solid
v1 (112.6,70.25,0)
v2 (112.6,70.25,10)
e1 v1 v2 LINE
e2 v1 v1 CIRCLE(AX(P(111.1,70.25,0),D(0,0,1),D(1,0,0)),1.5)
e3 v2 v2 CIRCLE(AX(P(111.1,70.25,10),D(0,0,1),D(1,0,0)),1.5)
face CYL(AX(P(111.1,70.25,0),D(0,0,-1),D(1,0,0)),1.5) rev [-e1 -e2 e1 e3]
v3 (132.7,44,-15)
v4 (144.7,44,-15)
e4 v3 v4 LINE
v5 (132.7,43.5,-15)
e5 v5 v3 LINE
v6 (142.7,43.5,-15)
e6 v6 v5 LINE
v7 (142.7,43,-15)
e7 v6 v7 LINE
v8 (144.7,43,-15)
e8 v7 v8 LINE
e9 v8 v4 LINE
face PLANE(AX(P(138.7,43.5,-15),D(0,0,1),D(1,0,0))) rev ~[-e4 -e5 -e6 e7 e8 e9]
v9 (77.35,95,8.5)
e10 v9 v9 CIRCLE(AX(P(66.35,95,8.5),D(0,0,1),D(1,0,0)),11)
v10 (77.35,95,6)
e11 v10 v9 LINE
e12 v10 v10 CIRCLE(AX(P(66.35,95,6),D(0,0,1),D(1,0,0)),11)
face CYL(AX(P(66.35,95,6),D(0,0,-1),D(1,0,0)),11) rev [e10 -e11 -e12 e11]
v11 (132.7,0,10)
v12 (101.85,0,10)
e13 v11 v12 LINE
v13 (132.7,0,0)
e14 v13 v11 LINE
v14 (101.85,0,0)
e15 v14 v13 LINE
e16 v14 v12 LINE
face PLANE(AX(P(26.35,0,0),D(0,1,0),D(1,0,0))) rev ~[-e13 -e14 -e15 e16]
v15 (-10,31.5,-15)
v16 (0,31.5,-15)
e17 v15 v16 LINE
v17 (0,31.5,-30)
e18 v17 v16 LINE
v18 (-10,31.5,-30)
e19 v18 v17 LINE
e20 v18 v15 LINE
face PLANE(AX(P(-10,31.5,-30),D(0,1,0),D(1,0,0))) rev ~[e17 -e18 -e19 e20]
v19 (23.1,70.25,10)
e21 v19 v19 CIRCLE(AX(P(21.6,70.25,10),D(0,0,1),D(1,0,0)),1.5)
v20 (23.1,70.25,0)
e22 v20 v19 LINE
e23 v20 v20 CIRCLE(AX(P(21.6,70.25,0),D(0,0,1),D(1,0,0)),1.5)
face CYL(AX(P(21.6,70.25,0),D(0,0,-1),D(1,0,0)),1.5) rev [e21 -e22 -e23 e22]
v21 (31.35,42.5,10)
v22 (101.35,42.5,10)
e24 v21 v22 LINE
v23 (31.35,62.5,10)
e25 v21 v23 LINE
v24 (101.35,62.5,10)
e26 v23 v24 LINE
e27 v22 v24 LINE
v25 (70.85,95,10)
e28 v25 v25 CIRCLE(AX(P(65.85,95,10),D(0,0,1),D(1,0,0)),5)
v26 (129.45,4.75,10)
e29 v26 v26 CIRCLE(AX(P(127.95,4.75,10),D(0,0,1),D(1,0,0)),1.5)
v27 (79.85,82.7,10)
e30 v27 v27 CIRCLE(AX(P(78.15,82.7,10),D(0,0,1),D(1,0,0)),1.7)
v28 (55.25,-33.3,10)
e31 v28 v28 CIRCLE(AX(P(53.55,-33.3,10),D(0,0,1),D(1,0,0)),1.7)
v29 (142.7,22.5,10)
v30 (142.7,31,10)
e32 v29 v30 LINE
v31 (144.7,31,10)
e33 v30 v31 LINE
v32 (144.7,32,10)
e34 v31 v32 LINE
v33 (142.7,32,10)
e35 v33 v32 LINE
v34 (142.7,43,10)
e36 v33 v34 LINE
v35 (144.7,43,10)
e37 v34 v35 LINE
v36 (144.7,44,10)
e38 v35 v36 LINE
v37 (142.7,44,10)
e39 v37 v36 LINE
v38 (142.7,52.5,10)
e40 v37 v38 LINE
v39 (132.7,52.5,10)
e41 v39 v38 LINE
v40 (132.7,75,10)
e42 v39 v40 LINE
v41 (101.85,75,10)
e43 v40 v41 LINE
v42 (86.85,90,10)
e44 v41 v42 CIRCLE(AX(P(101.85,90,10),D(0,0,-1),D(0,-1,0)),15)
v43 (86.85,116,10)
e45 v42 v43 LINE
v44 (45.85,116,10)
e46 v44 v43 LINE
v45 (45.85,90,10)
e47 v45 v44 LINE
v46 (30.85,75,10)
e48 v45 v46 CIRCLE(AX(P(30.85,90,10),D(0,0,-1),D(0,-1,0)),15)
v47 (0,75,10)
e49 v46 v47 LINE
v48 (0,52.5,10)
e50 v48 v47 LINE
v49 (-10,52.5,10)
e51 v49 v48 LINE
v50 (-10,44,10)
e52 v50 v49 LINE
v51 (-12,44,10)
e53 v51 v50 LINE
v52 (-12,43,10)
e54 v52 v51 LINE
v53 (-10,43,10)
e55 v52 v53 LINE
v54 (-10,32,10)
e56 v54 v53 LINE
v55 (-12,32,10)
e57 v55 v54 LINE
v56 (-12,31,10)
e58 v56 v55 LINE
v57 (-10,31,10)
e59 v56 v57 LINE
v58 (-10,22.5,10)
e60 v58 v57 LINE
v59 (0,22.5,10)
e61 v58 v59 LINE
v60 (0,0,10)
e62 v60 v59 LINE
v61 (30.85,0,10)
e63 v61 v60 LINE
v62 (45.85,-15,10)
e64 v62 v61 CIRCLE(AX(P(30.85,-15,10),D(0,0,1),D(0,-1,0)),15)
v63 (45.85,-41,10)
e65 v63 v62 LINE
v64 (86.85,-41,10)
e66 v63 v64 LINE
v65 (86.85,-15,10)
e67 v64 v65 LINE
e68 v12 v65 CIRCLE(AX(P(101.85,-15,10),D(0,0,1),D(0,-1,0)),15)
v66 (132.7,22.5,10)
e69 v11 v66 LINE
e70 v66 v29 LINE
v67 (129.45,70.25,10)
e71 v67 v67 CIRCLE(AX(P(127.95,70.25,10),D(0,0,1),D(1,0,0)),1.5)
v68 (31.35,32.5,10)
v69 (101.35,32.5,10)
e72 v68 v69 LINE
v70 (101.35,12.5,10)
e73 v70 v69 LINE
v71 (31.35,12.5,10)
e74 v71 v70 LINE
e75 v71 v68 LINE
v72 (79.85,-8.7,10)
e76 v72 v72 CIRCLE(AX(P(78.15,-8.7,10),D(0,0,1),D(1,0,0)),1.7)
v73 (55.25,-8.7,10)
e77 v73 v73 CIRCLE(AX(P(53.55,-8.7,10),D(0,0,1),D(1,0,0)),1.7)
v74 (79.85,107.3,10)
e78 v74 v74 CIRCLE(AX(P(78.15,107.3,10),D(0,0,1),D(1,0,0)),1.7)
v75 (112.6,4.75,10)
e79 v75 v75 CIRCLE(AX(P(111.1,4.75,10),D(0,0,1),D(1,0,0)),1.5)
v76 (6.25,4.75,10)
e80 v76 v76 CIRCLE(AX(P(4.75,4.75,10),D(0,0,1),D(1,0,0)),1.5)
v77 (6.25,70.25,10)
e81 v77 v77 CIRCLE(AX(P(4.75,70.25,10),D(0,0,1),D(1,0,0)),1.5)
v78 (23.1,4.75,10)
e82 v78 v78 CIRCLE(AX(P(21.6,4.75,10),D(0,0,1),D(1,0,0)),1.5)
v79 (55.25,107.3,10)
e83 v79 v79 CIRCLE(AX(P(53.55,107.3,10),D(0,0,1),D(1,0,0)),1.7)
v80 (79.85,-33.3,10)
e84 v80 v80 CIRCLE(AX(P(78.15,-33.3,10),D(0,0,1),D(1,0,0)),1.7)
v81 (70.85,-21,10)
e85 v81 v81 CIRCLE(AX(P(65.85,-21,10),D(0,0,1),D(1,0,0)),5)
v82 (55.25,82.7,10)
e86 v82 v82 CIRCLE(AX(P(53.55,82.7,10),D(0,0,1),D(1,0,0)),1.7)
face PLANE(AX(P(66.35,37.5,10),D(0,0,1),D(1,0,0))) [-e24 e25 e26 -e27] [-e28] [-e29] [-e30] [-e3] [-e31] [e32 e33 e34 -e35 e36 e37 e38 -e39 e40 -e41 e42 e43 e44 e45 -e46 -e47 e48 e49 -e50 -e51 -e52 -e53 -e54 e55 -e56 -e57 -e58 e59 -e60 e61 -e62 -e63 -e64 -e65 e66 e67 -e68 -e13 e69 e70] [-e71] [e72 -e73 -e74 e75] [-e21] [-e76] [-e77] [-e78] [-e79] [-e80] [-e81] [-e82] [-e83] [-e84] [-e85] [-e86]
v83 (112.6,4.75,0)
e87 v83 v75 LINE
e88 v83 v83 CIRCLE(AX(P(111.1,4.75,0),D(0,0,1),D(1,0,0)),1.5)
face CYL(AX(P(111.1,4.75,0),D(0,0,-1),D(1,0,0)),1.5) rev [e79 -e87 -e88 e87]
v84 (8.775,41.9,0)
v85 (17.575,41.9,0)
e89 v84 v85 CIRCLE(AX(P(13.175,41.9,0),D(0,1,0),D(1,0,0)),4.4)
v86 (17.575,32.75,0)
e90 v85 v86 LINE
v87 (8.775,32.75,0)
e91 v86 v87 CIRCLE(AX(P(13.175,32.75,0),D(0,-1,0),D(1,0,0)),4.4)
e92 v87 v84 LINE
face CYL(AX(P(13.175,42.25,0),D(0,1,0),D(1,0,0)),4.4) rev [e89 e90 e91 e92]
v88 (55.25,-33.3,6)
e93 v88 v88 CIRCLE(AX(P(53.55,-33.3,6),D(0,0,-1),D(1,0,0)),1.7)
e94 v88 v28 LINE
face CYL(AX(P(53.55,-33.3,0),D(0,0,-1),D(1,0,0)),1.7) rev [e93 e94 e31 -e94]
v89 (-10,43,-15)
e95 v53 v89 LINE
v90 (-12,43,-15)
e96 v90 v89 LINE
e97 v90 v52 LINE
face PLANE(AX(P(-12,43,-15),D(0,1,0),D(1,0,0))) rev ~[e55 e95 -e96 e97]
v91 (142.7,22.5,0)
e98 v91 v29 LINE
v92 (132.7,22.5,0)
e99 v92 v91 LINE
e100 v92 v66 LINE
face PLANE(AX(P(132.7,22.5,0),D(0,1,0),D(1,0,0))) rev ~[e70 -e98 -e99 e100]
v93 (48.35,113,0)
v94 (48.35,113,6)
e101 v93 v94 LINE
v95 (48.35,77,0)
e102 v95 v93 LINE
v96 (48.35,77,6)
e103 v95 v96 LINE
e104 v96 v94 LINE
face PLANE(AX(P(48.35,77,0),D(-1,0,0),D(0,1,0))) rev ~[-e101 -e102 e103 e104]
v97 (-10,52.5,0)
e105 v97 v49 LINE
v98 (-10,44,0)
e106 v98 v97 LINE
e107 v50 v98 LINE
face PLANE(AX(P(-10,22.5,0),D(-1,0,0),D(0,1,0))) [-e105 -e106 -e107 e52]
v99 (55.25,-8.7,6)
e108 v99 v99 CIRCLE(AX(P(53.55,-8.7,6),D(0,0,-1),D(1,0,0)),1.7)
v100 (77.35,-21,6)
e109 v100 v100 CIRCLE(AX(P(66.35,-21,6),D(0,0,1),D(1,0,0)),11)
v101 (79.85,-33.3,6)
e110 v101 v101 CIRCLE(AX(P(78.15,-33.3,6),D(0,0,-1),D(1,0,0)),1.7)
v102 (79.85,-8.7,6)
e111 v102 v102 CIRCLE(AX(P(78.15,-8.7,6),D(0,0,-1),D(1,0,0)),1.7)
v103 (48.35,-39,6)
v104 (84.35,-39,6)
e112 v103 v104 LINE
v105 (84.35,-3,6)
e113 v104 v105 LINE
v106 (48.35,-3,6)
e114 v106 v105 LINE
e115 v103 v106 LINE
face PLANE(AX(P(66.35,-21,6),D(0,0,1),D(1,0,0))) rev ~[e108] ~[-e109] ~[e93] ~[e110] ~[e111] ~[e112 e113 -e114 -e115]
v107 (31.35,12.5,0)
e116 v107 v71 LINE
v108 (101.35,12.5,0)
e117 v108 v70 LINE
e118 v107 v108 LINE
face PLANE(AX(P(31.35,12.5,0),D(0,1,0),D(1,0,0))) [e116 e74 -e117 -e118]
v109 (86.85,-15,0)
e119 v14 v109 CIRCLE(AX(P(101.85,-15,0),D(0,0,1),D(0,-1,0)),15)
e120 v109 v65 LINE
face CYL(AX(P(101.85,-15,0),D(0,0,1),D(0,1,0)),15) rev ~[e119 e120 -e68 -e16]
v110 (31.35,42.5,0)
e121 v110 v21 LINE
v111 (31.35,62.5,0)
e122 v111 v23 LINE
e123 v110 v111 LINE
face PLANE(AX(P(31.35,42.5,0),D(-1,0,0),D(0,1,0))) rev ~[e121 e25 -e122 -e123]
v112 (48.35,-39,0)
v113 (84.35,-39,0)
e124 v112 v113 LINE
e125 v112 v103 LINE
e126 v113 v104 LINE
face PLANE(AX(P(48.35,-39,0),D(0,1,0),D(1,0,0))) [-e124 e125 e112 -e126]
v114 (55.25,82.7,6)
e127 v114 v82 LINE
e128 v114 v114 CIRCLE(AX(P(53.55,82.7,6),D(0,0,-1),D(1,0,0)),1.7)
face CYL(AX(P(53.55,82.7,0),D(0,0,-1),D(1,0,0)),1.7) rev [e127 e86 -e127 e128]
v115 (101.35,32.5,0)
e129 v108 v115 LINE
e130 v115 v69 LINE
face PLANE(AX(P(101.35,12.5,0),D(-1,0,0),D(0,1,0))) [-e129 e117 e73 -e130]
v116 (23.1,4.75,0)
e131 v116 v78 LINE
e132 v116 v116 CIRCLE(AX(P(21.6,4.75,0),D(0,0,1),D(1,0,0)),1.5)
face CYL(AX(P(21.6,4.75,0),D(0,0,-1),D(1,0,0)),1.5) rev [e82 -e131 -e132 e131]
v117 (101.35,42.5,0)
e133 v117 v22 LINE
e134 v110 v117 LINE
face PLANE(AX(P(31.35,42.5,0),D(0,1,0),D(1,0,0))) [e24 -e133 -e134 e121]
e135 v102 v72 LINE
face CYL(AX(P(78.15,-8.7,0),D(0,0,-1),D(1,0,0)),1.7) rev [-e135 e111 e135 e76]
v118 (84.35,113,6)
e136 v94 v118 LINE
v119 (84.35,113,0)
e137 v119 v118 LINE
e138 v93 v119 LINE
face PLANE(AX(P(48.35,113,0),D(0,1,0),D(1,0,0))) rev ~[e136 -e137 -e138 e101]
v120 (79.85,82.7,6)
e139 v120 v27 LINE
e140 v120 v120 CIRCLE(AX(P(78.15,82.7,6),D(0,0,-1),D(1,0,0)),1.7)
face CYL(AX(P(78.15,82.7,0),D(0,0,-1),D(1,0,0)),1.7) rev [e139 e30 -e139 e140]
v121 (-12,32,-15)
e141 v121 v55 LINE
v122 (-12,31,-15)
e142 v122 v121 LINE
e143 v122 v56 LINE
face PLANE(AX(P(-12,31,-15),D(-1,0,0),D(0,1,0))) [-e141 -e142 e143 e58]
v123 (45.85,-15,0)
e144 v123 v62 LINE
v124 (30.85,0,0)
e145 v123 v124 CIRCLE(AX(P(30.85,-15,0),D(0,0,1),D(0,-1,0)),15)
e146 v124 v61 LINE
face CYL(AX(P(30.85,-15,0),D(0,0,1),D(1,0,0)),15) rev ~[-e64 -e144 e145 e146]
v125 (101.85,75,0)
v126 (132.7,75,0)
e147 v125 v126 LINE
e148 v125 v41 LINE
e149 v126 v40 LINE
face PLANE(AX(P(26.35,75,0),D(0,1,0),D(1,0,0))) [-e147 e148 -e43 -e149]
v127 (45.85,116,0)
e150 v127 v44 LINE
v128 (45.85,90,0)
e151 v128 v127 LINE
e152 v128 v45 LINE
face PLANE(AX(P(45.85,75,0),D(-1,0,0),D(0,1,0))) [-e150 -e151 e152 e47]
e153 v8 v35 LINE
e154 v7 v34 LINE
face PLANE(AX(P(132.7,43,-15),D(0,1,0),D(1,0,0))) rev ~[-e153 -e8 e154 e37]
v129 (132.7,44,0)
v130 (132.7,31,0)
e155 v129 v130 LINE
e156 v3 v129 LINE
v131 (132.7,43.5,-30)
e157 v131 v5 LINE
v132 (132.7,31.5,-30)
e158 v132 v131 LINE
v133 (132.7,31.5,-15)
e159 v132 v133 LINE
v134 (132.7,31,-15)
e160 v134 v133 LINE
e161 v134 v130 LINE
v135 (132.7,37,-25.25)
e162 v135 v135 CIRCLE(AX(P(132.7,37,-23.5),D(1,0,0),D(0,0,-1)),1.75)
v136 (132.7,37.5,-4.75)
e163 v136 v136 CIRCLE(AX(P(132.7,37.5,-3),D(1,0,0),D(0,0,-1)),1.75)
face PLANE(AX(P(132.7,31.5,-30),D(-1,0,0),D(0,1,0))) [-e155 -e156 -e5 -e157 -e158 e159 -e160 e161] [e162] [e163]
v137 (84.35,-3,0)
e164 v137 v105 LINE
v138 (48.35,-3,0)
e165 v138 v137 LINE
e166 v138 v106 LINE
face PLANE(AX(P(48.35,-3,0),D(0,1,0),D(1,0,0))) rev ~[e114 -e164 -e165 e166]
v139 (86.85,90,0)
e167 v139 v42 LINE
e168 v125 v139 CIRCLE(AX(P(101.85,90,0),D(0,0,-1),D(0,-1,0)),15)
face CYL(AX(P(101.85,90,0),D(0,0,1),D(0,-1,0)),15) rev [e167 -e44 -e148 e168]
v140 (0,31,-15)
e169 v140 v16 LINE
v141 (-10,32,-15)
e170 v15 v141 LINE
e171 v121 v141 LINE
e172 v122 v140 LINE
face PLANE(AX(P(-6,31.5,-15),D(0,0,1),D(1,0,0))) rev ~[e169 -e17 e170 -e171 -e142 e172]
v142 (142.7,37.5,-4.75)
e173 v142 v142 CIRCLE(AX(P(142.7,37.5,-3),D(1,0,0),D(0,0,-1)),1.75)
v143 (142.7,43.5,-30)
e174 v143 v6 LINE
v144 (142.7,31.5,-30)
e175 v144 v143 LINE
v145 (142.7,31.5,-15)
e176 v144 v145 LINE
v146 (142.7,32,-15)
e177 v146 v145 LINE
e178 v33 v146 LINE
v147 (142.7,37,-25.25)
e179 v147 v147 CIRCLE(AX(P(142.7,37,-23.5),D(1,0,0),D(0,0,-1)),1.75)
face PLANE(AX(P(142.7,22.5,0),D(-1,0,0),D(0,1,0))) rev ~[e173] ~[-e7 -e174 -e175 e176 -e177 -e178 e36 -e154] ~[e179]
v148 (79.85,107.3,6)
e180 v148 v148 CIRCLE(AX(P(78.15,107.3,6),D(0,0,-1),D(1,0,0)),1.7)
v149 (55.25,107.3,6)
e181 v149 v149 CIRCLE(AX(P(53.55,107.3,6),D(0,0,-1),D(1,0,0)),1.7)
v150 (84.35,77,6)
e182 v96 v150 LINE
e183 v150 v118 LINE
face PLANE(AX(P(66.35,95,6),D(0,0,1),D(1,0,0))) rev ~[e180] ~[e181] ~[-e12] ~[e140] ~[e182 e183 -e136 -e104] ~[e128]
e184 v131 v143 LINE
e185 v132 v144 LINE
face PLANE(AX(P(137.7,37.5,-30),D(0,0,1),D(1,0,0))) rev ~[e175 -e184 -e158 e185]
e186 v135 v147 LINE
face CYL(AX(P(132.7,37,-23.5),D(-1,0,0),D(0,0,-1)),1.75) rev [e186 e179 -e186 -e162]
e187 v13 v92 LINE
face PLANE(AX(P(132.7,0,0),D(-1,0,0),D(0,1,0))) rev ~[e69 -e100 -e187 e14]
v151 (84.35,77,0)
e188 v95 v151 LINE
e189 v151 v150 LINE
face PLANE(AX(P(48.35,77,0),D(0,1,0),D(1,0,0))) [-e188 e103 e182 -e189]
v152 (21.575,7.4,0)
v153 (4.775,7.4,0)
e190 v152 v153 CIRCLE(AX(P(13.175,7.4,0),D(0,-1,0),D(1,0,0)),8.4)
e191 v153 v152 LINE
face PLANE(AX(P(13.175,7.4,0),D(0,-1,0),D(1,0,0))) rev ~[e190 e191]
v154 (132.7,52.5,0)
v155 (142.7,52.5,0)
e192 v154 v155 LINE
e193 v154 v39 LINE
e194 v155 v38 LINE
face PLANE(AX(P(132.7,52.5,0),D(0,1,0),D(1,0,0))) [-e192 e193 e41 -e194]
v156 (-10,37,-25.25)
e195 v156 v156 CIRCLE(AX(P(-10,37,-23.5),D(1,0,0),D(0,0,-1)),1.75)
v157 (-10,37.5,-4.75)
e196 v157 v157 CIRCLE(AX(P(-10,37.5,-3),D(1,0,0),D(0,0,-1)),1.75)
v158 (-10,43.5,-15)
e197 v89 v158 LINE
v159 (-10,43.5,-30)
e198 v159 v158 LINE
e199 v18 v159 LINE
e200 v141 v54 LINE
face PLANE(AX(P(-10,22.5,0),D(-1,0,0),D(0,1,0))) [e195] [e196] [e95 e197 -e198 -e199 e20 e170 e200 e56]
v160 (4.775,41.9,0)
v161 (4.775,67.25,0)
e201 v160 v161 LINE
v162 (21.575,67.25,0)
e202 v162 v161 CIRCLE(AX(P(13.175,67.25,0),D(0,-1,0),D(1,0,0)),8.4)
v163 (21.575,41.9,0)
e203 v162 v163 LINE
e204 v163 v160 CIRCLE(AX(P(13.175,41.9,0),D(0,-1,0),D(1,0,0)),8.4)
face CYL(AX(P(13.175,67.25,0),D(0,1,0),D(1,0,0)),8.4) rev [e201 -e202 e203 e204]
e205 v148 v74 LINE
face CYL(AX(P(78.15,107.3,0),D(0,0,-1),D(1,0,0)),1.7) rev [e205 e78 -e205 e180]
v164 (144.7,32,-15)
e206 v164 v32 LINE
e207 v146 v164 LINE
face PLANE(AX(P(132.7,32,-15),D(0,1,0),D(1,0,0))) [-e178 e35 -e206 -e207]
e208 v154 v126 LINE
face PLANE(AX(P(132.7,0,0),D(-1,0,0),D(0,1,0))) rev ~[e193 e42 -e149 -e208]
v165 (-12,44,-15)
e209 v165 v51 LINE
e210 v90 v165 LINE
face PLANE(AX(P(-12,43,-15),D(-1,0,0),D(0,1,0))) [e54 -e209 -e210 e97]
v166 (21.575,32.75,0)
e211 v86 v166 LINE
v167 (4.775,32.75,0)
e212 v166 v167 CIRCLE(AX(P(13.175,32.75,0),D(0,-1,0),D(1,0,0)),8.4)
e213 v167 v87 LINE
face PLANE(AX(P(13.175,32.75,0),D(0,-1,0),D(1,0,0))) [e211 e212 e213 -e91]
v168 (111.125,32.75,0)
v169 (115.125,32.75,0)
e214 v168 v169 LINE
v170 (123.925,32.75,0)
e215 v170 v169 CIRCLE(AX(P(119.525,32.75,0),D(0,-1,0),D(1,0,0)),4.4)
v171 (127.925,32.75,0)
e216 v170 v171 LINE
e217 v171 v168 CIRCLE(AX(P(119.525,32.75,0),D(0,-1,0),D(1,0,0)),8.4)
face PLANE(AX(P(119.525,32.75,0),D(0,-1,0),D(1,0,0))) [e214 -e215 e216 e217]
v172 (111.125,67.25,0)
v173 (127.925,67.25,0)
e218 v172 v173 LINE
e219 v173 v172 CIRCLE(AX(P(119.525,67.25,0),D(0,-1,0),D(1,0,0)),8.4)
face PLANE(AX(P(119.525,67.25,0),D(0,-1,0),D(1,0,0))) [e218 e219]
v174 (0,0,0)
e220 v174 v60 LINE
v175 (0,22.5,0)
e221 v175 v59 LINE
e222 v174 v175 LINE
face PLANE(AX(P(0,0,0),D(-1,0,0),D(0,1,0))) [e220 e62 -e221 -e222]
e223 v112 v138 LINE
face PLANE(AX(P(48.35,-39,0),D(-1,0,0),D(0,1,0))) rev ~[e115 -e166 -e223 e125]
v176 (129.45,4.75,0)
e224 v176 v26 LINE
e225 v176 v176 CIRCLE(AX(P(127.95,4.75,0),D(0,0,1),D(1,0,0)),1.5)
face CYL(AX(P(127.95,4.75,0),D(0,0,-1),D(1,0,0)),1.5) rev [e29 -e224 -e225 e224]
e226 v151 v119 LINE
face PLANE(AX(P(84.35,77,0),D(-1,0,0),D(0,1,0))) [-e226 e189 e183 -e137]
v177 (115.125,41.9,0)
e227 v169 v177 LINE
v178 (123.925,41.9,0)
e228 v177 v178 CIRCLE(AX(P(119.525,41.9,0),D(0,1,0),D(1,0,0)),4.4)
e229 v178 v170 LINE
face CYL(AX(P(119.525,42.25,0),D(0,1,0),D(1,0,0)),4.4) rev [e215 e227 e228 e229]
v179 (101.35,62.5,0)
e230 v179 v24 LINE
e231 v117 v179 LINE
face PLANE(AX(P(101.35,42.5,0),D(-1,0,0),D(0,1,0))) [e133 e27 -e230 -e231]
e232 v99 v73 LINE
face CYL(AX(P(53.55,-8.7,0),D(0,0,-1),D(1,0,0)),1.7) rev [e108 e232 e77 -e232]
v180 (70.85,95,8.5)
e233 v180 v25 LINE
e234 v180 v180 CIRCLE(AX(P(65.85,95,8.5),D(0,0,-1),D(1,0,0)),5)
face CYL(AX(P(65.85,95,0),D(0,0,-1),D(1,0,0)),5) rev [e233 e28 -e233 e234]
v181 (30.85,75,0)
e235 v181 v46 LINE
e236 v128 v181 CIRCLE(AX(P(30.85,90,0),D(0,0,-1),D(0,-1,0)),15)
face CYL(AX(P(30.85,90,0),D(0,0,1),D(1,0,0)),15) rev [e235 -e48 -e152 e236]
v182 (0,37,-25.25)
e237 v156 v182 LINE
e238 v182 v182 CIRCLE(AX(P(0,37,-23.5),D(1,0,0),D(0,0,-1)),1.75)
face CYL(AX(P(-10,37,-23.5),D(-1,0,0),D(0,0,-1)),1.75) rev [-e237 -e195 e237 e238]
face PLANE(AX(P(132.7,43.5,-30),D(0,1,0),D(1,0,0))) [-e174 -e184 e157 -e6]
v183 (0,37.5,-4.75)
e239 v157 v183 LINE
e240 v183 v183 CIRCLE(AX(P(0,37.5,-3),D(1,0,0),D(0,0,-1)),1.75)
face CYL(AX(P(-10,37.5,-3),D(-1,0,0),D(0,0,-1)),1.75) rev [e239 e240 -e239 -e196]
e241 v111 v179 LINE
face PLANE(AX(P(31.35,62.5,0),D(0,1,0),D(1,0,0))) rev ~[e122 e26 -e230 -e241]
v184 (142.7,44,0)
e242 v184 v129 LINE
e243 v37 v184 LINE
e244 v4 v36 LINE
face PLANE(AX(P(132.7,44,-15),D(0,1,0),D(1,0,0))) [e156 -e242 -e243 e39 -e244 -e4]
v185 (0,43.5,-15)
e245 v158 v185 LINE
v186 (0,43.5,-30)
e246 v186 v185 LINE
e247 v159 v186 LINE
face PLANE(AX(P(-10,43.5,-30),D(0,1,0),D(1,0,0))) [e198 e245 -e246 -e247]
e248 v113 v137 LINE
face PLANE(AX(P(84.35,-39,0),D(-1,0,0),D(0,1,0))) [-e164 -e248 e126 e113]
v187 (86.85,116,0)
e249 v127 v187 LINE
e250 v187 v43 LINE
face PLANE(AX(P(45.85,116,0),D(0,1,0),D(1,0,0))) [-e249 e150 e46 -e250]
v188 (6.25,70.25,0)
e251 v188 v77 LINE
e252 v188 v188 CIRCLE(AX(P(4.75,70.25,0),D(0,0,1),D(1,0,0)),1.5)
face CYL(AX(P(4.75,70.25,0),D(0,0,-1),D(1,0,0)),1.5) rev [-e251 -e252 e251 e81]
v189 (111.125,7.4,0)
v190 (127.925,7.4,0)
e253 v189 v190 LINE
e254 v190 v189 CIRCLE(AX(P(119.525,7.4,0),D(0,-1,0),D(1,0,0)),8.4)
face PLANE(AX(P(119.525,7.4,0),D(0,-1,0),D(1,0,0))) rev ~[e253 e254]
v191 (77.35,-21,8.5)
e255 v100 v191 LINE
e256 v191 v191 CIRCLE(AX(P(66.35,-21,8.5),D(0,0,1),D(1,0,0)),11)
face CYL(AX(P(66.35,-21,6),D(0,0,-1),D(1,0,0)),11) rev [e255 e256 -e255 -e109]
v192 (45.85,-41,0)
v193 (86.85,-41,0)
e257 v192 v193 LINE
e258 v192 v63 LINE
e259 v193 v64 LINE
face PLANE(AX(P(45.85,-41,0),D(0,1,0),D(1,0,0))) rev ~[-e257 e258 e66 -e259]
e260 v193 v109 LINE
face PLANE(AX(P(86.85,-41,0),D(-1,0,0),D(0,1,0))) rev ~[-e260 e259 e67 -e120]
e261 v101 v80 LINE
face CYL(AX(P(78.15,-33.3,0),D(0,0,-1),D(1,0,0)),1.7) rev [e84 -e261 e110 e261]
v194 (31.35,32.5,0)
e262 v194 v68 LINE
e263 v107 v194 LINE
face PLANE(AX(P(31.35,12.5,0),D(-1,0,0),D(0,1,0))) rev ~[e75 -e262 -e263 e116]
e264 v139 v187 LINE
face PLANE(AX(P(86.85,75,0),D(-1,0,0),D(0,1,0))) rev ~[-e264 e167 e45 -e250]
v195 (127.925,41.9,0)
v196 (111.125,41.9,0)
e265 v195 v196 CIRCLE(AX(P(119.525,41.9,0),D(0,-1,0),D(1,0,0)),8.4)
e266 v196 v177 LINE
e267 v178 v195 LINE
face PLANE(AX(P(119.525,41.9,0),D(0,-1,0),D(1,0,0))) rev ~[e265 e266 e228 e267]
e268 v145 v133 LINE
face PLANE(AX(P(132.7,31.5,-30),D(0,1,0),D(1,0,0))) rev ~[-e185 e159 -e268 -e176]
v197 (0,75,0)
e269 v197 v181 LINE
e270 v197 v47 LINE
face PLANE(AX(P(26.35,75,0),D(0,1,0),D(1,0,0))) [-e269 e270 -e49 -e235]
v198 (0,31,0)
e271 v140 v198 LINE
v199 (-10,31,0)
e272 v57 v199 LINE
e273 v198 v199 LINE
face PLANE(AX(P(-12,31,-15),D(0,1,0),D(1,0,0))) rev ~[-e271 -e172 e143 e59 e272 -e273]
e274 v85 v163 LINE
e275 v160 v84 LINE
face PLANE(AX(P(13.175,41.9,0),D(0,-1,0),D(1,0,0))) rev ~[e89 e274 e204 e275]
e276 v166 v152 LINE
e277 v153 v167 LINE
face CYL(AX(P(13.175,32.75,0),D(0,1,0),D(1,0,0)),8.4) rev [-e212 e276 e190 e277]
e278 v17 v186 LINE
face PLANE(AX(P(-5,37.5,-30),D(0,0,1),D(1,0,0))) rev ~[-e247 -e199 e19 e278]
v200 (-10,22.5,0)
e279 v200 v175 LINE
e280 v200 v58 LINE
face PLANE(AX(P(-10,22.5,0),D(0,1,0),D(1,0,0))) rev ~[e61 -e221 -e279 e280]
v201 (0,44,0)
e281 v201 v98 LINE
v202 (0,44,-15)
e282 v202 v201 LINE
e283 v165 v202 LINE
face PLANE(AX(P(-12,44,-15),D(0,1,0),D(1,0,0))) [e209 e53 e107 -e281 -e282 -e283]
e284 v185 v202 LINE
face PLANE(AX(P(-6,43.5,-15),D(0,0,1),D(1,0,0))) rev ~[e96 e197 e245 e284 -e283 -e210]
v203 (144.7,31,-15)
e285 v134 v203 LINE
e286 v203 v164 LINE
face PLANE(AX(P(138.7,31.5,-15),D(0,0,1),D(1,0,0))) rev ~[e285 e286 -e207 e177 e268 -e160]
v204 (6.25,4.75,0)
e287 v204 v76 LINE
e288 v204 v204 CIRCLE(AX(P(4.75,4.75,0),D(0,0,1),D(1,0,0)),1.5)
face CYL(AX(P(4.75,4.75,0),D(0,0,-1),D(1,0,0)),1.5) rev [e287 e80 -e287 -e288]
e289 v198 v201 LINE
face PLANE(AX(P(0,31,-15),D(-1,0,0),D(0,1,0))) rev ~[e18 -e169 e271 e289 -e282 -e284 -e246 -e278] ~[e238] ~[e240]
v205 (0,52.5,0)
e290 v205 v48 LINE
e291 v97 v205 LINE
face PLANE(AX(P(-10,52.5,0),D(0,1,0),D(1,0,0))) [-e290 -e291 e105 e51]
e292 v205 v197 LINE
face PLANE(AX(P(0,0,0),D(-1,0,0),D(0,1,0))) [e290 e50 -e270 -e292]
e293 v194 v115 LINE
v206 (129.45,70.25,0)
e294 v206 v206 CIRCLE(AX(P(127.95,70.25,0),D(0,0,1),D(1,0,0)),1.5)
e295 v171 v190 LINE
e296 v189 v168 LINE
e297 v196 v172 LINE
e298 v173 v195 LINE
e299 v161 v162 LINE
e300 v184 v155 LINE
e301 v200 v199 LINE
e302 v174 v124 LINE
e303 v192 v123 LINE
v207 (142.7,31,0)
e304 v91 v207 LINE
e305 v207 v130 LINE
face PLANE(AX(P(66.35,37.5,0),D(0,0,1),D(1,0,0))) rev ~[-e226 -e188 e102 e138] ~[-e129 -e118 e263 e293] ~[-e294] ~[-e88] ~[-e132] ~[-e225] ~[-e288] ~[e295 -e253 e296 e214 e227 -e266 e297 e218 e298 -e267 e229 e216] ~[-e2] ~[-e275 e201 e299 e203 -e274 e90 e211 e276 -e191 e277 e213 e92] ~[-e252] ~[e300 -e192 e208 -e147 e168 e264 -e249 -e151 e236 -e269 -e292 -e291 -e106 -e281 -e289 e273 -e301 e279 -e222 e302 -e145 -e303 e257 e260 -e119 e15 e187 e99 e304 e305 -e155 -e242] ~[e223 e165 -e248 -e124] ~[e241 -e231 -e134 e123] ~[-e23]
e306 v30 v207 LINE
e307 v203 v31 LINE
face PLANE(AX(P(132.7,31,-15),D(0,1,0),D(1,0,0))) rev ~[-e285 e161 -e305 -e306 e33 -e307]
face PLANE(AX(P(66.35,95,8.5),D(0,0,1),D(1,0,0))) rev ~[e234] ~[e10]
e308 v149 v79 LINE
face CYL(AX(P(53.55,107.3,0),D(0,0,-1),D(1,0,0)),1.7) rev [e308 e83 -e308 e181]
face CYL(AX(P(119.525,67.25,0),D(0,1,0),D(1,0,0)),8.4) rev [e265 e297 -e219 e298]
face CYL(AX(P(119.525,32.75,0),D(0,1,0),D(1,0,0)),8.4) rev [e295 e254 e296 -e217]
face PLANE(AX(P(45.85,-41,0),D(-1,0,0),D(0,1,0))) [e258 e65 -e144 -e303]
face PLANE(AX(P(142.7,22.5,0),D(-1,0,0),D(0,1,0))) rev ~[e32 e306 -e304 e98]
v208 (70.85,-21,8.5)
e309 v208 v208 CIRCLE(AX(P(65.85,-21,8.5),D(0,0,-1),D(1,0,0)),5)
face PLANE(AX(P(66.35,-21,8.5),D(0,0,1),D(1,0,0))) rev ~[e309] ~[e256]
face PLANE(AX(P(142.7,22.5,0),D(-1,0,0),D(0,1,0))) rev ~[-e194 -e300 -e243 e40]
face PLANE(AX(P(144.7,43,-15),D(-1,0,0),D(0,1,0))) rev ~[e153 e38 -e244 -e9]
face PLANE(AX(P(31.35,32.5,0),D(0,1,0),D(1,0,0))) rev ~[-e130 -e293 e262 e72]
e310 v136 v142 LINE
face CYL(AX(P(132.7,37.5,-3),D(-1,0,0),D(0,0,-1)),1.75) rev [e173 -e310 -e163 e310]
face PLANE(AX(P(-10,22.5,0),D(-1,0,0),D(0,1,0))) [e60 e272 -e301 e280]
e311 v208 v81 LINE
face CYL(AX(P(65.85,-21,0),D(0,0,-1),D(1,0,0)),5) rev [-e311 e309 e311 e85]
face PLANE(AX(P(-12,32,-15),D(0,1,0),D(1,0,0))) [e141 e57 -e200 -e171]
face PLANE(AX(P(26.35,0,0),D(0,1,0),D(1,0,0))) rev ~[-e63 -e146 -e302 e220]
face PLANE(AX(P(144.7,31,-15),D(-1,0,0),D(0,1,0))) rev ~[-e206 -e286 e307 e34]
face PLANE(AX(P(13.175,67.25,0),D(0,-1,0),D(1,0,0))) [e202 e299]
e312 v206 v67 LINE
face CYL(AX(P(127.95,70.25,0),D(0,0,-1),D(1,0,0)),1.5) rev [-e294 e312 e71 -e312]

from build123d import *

# Parameters (mm, degrees)
CYLINDER023_R           = 11
CYLINDER023_DEPTH       = 2.5
CYLINDER022_R           = 11
CYLINDER022_DEPTH       = 2.5
BOX003_W                = 70
BOX003_H                = 20
BOX003_DEPTH            = 10
BOX002_W                = 70
BOX002_H                = 20
BOX002_DEPTH            = 10
BOX001_W                = 80
BOX001_H                = 75
BOX001_DEPTH            = 10
CYLINDER006_R           = 4.4
CYLINDER006_DEPTH       = 9.5
CYLINDER006_ROLL_ANGLE  = 90
CYLINDER005_R           = 8.4
CYLINDER005_DEPTH       = 25.35
CYLINDER005_ROLL_ANGLE  = 90
CYLINDER004_R           = 8.4
CYLINDER004_DEPTH       = 25.35
CYLINDER004_ROLL_ANGLE  = 90
CYLINDER021_R           = 1.5
CYLINDER021_DEPTH       = 10
CYLINDER003_R           = 1.5
CYLINDER003_DEPTH       = 10
CYLINDER002_R           = 1.5
CYLINDER002_DEPTH       = 10
CYLINDER_R              = 1.5
CYLINDER_DEPTH          = 10
BOX_W                   = 26.35
BOX_H                   = 75
BOX_DEPTH               = 10
ARRAY_X_COUNT           = 2
ARRAY_X_PITCH           = 106.35
BOX012_W                = 36
BOX012_H                = 36
BOX012_DEPTH            = 6
CYLINDER018_R           = 5
CYLINDER018_DEPTH       = 10
CYLINDER017_R           = 1.7
CYLINDER017_DEPTH       = 10
CYLINDER016_R           = 1.7
CYLINDER016_DEPTH       = 10
CYLINDER014_R           = 1.7
CYLINDER014_DEPTH       = 10
CYLINDER015_R           = 1.7
CYLINDER015_DEPTH       = 10
BOX011_W                = 41
BOX011_H                = 41
BOX011_DEPTH            = 10
ARRAY002_Y_COUNT        = 2
ARRAY002_Y_PITCH        = 116
BOX018_W                = 12
BOX018_H                = 1
BOX018_DEPTH            = 25
BOX017_W                = 12
BOX017_H                = 1
BOX017_DEPTH            = 25
BOX014_W                = 12
BOX014_H                = 1
BOX014_DEPTH            = 25
CYLINDER019_R           = 1.75
CYLINDER019_DEPTH       = 10
CYLINDER019_PITCH_ANGLE = 90
CYLINDER020_R           = 1.75
CYLINDER020_DEPTH       = 10
CYLINDER020_PITCH_ANGLE = 90
BOX016_W                = 10
BOX016_H                = 12
BOX016_DEPTH            = 30
ARRAY003_X_COUNT        = 2
ARRAY003_X_PITCH        = 142.7
BOX015_W                = 12
BOX015_H                = 1
BOX015_DEPTH            = 25
BOX007_W                = 10
BOX007_H                = 30
BOX007_DEPTH            = 10
BOX006_W                = 10
BOX006_H                = 30
BOX006_DEPTH            = 10
FILLET_R                = 15
FILLET001_R             = 15
FILLET002_R             = 15
FILLET003_R             = 15


with BuildPart() as cilindro023:
    # Cylinder023 → Cylinder023 (new body)
    with BuildSketch(Plane(origin=(66.35, 95, 6), x_dir=(1, 0, 0), z_dir=(0, 0, 1))):
        Circle(CYLINDER023_R)
    extrude(amount=CYLINDER023_DEPTH)


with BuildPart() as cilindro022:
    # Cylinder022 → Cylinder022 (new body)
    with BuildSketch(Plane(origin=(66.35, -21, 6), x_dir=(1, 0, 0), z_dir=(0, 0, 1))):
        Circle(CYLINDER022_R)
    extrude(amount=CYLINDER022_DEPTH)


with BuildPart() as lucernario2:
    # Box003 → Box003 (new body)
    with BuildSketch(Plane(origin=(31.35, 42.5, 0), x_dir=(1, 0, 0), z_dir=(0, 0, 1))):
        with Locations((35, 10)):
            Rectangle(BOX003_W, BOX003_H)
    extrude(amount=BOX003_DEPTH)


with BuildPart() as lucernario:
    # Box002 → Box002 (new body)
    with BuildSketch(Plane(origin=(31.35, 12.5, 0), x_dir=(1, 0, 0), z_dir=(0, 0, 1))):
        with Locations((35, 10)):
            Rectangle(BOX002_W, BOX002_H)
    extrude(amount=BOX002_DEPTH)


with BuildPart() as centro1:
    # Box001 → Box001 (new body)
    with BuildSketch(Plane(origin=(26.35, 0, 0), x_dir=(1, 0, 0), z_dir=(0, 0, 1))):
        with Locations((40, 37.5)):
            Rectangle(BOX001_W, BOX001_H)
    extrude(amount=BOX001_DEPTH)

    # Cut007: cut Lucernario
    add(lucernario.part, mode=Mode.SUBTRACT)

    # Cut008: cut Lucernario2
    add(lucernario2.part, mode=Mode.SUBTRACT)


with BuildPart() as cilindro006:
    # Cylinder006 → Cylinder006 (new body)
    with BuildSketch(Plane.XY):
        Circle(CYLINDER006_R)
    extrude(amount=CYLINDER006_DEPTH)


with BuildPart() as cilindro006_1:
    # Cylinder006 roll: moved
    add(cilindro006.part.rotate(Axis((0, 0, 0), (1, 0, 0)), CYLINDER006_ROLL_ANGLE))


with BuildPart() as cilindro006_2:
    # Cylinder006 placement: moved
    add(cilindro006_1.part.moved(Location((13.175, 39.5, 0))))


with BuildPart() as cilindro005:
    # Cylinder005 → Cylinder005 (new body)
    with BuildSketch(Plane.XY):
        Circle(CYLINDER005_R)
    extrude(amount=CYLINDER005_DEPTH)


with BuildPart() as cilindro005_1:
    # Cylinder005 roll: moved
    add(cilindro005.part.rotate(Axis((0, 0, 0), (1, 0, 0)), CYLINDER005_ROLL_ANGLE))


with BuildPart() as cilindro005_2:
    # Cylinder005 placement: moved
    add(cilindro005_1.part.moved(Location((13.175, 64.5, 0))))


with BuildPart() as fusion001:
    # Cylinder004 → Cylinder004 (new body)
    with BuildSketch(Plane.XY):
        Circle(CYLINDER004_R)
    extrude(amount=CYLINDER004_DEPTH)


with BuildPart() as fusion001_1:
    # Cylinder004 roll: moved
    add(fusion001.part.rotate(Axis((0, 0, 0), (1, 0, 0)), CYLINDER004_ROLL_ANGLE))


with BuildPart() as fusion001_2:
    # Cylinder004 placement: moved
    add(fusion001_1.part.moved(Location((13.175, 30, 0))))

    # Fusion: union Cilindro005
    add(cilindro005_2.part)

    # Fusion001: union Cilindro006
    add(cilindro006_2.part)


with BuildPart() as fusion001_3:
    # Fusion001 placement: moved
    add(fusion001_2.part.moved(Location((0, 2.75, 0))))


with BuildPart() as cilindro021:
    # Cylinder021 → Cylinder021 (new body)
    with BuildSketch(Plane(origin=(21.6, 70.25, 0), x_dir=(1, 0, 0), z_dir=(0, 0, 1))):
        Circle(CYLINDER021_R)
    extrude(amount=CYLINDER021_DEPTH)


with BuildPart() as cilindro003:
    # Cylinder003 → Cylinder003 (new body)
    with BuildSketch(Plane(origin=(21.6, 4.75, 0), x_dir=(1, 0, 0), z_dir=(0, 0, 1))):
        Circle(CYLINDER003_R)
    extrude(amount=CYLINDER003_DEPTH)


with BuildPart() as cilindro002:
    # Cylinder002 → Cylinder002 (new body)
    with BuildSketch(Plane(origin=(4.75, 70.25, 0), x_dir=(1, 0, 0), z_dir=(0, 0, 1))):
        Circle(CYLINDER002_R)
    extrude(amount=CYLINDER002_DEPTH)


with BuildPart() as cilindro:
    # Cylinder → Cylinder (new body)
    with BuildSketch(Plane(origin=(4.75, 4.75, 0), x_dir=(1, 0, 0), z_dir=(0, 0, 1))):
        Circle(CYLINDER_R)
    extrude(amount=CYLINDER_DEPTH)


with BuildPart() as fusion011:
    # Box → Box (new body)
    with BuildSketch(Plane.XY):
        with Locations((13.175, 37.5)):
            Rectangle(BOX_W, BOX_H)
    extrude(amount=BOX_DEPTH)

    # Cut: cut Cilindro
    add(cilindro.part, mode=Mode.SUBTRACT)

    # Cut001: cut Cilindro002
    add(cilindro002.part, mode=Mode.SUBTRACT)

    # Cut026: cut Cilindro003
    add(cilindro003.part, mode=Mode.SUBTRACT)

    # Cut027: cut Cilindro021
    add(cilindro021.part, mode=Mode.SUBTRACT)

    # Cut028: cut Fusion001
    add(fusion001_3.part, mode=Mode.SUBTRACT)

    # Array X: Fusion011 ×2


with BuildPart() as fusion011_1:
    add(fusion011.part)
    with Locations(*[(i * ARRAY_X_PITCH, 0, 0) for i in range(1, ARRAY_X_COUNT)]):
        add(fusion011.part)

    # Fusion011: union Centro1
    add(centro1.part)


with BuildPart() as cubo005:
    # Box012 → Box012 (new body)
    with BuildSketch(Plane(origin=(2.5, 2, 0), x_dir=(1, 0, 0), z_dir=(0, 0, 1))):
        with Locations((18, 18)):
            Rectangle(BOX012_W, BOX012_H)
    extrude(amount=BOX012_DEPTH)


with BuildPart() as cilindro018:
    # Cylinder018 → Cylinder018 (new body)
    with BuildSketch(Plane(origin=(20, 20, 0), x_dir=(1, 0, 0), z_dir=(0, 0, 1))):
        Circle(CYLINDER018_R)
    extrude(amount=CYLINDER018_DEPTH)


with BuildPart() as cilindro017:
    # Cylinder017 → Cylinder017 (new body)
    with BuildSketch(Plane(origin=(32.3, 32.3, 0), x_dir=(1, 0, 0), z_dir=(0, 0, 1))):
        Circle(CYLINDER017_R)
    extrude(amount=CYLINDER017_DEPTH)


with BuildPart() as cilindro016:
    # Cylinder016 → Cylinder016 (new body)
    with BuildSketch(Plane(origin=(32.3, 7.7, 0), x_dir=(1, 0, 0), z_dir=(0, 0, 1))):
        Circle(CYLINDER016_R)
    extrude(amount=CYLINDER016_DEPTH)


with BuildPart() as cilindro014:
    # Cylinder014 → Cylinder014 (new body)
    with BuildSketch(Plane(origin=(7.7, 7.7, 0), x_dir=(1, 0, 0), z_dir=(0, 0, 1))):
        Circle(CYLINDER014_R)
    extrude(amount=CYLINDER014_DEPTH)


with BuildPart() as cilindro015:
    # Cylinder015 → Cylinder015 (new body)
    with BuildSketch(Plane(origin=(7.7, 32.3, 0), x_dir=(1, 0, 0), z_dir=(0, 0, 1))):
        Circle(CYLINDER015_R)
    extrude(amount=CYLINDER015_DEPTH)


with BuildPart() as fusion012:
    # Box011 → Box011 (new body)
    with BuildSketch(Plane.XY):
        with Locations((20.5, 20.5)):
            Rectangle(BOX011_W, BOX011_H)
    extrude(amount=BOX011_DEPTH)

    # Cut018: cut Cilindro015
    add(cilindro015.part, mode=Mode.SUBTRACT)

    # Cut019: cut Cilindro014
    add(cilindro014.part, mode=Mode.SUBTRACT)

    # Cut020: cut Cilindro016
    add(cilindro016.part, mode=Mode.SUBTRACT)

    # Cut021: cut Cilindro017
    add(cilindro017.part, mode=Mode.SUBTRACT)

    # Cut022: cut Cilindro018
    add(cilindro018.part, mode=Mode.SUBTRACT)

    # Cut023: cut Cubo005
    add(cubo005.part, mode=Mode.SUBTRACT)


with BuildPart() as fusion012_1:
    # Cut023 placement: moved
    add(fusion012.part.moved(Location((43.35, -46, 0))))

    # Array002 Y: Fusion012 ×2


with BuildPart() as fusion012_2:
    add(fusion012_1.part)
    with Locations(*[(0, i * ARRAY002_Y_PITCH, 0) for i in range(1, ARRAY002_Y_COUNT)]):
        add(fusion012_1.part)


with BuildPart() as fusion012_3:
    # Array002 placement: moved
    add(fusion012_2.part.moved(Location((2.5, 5, 0))))

    # Fusion012: union Fusion011
    add(fusion011_1.part)


with BuildPart() as cubo011:
    # Box018 → Box018 (new body)
    with BuildSketch(Plane(origin=(-12, 43, -15), x_dir=(1, 0, 0), z_dir=(0, 0, 1))):
        with Locations((6, 0.5)):
            Rectangle(BOX018_W, BOX018_H)
    extrude(amount=BOX018_DEPTH)


with BuildPart() as cubo010:
    # Box017 → Box017 (new body)
    with BuildSketch(Plane(origin=(-12, 31, -15), x_dir=(1, 0, 0), z_dir=(0, 0, 1))):
        with Locations((6, 0.5)):
            Rectangle(BOX017_W, BOX017_H)
    extrude(amount=BOX017_DEPTH)


with BuildPart() as cubo007:
    # Box014 → Box014 (new body)
    with BuildSketch(Plane(origin=(132.7, 31, -15), x_dir=(1, 0, 0), z_dir=(0, 0, 1))):
        with Locations((6, 0.5)):
            Rectangle(BOX014_W, BOX014_H)
    extrude(amount=BOX014_DEPTH)


with BuildPart() as cilindro019:
    # Cylinder019 → Cylinder019 (new body)
    with BuildSketch(Plane.XY):
        Circle(CYLINDER019_R)
    extrude(amount=CYLINDER019_DEPTH)


with BuildPart() as cilindro019_1:
    # Cylinder019 pitch: moved
    add(cilindro019.part.rotate(Axis((0, 0, 0), (0, 1, 0)), CYLINDER019_PITCH_ANGLE))


with BuildPart() as cilindro019_2:
    # Cylinder019 placement: moved
    add(cilindro019_1.part.moved(Location((-10, 37.5, -3))))


with BuildPart() as cilindro020:
    # Cylinder020 → Cylinder020 (new body)
    with BuildSketch(Plane.XY):
        Circle(CYLINDER020_R)
    extrude(amount=CYLINDER020_DEPTH)


with BuildPart() as cilindro020_1:
    # Cylinder020 pitch: moved
    add(cilindro020.part.rotate(Axis((0, 0, 0), (0, 1, 0)), CYLINDER020_PITCH_ANGLE))


with BuildPart() as cilindro020_2:
    # Cylinder020 placement: moved
    add(cilindro020_1.part.moved(Location((-10, 37, -23.5))))


with BuildPart() as array003:
    # Box016 → Box016 (new body)
    with BuildSketch(Plane(origin=(-10, 31.5, -30), x_dir=(1, 0, 0), z_dir=(0, 0, 1))):
        with Locations((5, 6)):
            Rectangle(BOX016_W, BOX016_H)
    extrude(amount=BOX016_DEPTH)

    # Cut024: cut Cilindro020
    add(cilindro020_2.part, mode=Mode.SUBTRACT)

    # Cut025: cut Cilindro019
    add(cilindro019_2.part, mode=Mode.SUBTRACT)

    # Array003 X: Array003 ×2


with BuildPart() as array003_1:
    add(array003.part)
    with Locations(*[(i * ARRAY003_X_PITCH, 0, 0) for i in range(1, ARRAY003_X_COUNT)]):
        add(array003.part)


with BuildPart() as fusion013:
    # Box015 → Box015 (new body)
    with BuildSketch(Plane(origin=(132.7, 43, -15), x_dir=(1, 0, 0), z_dir=(0, 0, 1))):
        with Locations((6, 0.5)):
            Rectangle(BOX015_W, BOX015_H)
    extrude(amount=BOX015_DEPTH)

    # Fusion009: union Cubo007, Array003
    add(cubo007.part)
    add(array003_1.part)

    # Fusion010: union Cubo011, Cubo010
    add(cubo011.part)
    add(cubo010.part)

    # Fusion013: union Fusion012
    add(fusion012_3.part)


with BuildPart() as fusion014:
    # Box007 → Box007 (new body)
    with BuildSketch(Plane(origin=(132.7, 22.5, 0), x_dir=(1, 0, 0), z_dir=(0, 0, 1))):
        with Locations((5, 15)):
            Rectangle(BOX007_W, BOX007_H)
    extrude(amount=BOX007_DEPTH)

    # Fusion014: union Fusion013
    add(fusion013.part)


with BuildPart() as cut030:
    # Box006 → Box006 (new body)
    with BuildSketch(Plane(origin=(-10, 22.5, 0), x_dir=(1, 0, 0), z_dir=(0, 0, 1))):
        with Locations((5, 15)):
            Rectangle(BOX006_W, BOX006_H)
    extrude(amount=BOX006_DEPTH)

    # Fusion015: union Fusion014
    add(fusion014.part)

    # Fillet
    fillet_edges = [cut030.edges().sort_by_distance(p)[0] for p in [
        (86.85, 0, 5),
    ]]
    fillet(fillet_edges, radius=FILLET_R)

    # Fillet001
    fillet001_edges = [cut030.edges().sort_by_distance(p)[0] for p in [
        (45.85, 0, 5),
    ]]
    fillet(fillet001_edges, radius=FILLET001_R)

    # Fillet002
    fillet002_edges = [cut030.edges().sort_by_distance(p)[0] for p in [
        (86.85, 75, 5),
    ]]
    fillet(fillet002_edges, radius=FILLET002_R)

    # Fillet003
    fillet003_edges = [cut030.edges().sort_by_distance(p)[0] for p in [
        (45.85, 75, 5),
    ]]
    fillet(fillet003_edges, radius=FILLET003_R)

    # Cut029: cut Cilindro022
    add(cilindro022.part, mode=Mode.SUBTRACT)

    # Cut030: cut Cilindro023
    add(cilindro023.part, mode=Mode.SUBTRACT)


solid = cut030.part
